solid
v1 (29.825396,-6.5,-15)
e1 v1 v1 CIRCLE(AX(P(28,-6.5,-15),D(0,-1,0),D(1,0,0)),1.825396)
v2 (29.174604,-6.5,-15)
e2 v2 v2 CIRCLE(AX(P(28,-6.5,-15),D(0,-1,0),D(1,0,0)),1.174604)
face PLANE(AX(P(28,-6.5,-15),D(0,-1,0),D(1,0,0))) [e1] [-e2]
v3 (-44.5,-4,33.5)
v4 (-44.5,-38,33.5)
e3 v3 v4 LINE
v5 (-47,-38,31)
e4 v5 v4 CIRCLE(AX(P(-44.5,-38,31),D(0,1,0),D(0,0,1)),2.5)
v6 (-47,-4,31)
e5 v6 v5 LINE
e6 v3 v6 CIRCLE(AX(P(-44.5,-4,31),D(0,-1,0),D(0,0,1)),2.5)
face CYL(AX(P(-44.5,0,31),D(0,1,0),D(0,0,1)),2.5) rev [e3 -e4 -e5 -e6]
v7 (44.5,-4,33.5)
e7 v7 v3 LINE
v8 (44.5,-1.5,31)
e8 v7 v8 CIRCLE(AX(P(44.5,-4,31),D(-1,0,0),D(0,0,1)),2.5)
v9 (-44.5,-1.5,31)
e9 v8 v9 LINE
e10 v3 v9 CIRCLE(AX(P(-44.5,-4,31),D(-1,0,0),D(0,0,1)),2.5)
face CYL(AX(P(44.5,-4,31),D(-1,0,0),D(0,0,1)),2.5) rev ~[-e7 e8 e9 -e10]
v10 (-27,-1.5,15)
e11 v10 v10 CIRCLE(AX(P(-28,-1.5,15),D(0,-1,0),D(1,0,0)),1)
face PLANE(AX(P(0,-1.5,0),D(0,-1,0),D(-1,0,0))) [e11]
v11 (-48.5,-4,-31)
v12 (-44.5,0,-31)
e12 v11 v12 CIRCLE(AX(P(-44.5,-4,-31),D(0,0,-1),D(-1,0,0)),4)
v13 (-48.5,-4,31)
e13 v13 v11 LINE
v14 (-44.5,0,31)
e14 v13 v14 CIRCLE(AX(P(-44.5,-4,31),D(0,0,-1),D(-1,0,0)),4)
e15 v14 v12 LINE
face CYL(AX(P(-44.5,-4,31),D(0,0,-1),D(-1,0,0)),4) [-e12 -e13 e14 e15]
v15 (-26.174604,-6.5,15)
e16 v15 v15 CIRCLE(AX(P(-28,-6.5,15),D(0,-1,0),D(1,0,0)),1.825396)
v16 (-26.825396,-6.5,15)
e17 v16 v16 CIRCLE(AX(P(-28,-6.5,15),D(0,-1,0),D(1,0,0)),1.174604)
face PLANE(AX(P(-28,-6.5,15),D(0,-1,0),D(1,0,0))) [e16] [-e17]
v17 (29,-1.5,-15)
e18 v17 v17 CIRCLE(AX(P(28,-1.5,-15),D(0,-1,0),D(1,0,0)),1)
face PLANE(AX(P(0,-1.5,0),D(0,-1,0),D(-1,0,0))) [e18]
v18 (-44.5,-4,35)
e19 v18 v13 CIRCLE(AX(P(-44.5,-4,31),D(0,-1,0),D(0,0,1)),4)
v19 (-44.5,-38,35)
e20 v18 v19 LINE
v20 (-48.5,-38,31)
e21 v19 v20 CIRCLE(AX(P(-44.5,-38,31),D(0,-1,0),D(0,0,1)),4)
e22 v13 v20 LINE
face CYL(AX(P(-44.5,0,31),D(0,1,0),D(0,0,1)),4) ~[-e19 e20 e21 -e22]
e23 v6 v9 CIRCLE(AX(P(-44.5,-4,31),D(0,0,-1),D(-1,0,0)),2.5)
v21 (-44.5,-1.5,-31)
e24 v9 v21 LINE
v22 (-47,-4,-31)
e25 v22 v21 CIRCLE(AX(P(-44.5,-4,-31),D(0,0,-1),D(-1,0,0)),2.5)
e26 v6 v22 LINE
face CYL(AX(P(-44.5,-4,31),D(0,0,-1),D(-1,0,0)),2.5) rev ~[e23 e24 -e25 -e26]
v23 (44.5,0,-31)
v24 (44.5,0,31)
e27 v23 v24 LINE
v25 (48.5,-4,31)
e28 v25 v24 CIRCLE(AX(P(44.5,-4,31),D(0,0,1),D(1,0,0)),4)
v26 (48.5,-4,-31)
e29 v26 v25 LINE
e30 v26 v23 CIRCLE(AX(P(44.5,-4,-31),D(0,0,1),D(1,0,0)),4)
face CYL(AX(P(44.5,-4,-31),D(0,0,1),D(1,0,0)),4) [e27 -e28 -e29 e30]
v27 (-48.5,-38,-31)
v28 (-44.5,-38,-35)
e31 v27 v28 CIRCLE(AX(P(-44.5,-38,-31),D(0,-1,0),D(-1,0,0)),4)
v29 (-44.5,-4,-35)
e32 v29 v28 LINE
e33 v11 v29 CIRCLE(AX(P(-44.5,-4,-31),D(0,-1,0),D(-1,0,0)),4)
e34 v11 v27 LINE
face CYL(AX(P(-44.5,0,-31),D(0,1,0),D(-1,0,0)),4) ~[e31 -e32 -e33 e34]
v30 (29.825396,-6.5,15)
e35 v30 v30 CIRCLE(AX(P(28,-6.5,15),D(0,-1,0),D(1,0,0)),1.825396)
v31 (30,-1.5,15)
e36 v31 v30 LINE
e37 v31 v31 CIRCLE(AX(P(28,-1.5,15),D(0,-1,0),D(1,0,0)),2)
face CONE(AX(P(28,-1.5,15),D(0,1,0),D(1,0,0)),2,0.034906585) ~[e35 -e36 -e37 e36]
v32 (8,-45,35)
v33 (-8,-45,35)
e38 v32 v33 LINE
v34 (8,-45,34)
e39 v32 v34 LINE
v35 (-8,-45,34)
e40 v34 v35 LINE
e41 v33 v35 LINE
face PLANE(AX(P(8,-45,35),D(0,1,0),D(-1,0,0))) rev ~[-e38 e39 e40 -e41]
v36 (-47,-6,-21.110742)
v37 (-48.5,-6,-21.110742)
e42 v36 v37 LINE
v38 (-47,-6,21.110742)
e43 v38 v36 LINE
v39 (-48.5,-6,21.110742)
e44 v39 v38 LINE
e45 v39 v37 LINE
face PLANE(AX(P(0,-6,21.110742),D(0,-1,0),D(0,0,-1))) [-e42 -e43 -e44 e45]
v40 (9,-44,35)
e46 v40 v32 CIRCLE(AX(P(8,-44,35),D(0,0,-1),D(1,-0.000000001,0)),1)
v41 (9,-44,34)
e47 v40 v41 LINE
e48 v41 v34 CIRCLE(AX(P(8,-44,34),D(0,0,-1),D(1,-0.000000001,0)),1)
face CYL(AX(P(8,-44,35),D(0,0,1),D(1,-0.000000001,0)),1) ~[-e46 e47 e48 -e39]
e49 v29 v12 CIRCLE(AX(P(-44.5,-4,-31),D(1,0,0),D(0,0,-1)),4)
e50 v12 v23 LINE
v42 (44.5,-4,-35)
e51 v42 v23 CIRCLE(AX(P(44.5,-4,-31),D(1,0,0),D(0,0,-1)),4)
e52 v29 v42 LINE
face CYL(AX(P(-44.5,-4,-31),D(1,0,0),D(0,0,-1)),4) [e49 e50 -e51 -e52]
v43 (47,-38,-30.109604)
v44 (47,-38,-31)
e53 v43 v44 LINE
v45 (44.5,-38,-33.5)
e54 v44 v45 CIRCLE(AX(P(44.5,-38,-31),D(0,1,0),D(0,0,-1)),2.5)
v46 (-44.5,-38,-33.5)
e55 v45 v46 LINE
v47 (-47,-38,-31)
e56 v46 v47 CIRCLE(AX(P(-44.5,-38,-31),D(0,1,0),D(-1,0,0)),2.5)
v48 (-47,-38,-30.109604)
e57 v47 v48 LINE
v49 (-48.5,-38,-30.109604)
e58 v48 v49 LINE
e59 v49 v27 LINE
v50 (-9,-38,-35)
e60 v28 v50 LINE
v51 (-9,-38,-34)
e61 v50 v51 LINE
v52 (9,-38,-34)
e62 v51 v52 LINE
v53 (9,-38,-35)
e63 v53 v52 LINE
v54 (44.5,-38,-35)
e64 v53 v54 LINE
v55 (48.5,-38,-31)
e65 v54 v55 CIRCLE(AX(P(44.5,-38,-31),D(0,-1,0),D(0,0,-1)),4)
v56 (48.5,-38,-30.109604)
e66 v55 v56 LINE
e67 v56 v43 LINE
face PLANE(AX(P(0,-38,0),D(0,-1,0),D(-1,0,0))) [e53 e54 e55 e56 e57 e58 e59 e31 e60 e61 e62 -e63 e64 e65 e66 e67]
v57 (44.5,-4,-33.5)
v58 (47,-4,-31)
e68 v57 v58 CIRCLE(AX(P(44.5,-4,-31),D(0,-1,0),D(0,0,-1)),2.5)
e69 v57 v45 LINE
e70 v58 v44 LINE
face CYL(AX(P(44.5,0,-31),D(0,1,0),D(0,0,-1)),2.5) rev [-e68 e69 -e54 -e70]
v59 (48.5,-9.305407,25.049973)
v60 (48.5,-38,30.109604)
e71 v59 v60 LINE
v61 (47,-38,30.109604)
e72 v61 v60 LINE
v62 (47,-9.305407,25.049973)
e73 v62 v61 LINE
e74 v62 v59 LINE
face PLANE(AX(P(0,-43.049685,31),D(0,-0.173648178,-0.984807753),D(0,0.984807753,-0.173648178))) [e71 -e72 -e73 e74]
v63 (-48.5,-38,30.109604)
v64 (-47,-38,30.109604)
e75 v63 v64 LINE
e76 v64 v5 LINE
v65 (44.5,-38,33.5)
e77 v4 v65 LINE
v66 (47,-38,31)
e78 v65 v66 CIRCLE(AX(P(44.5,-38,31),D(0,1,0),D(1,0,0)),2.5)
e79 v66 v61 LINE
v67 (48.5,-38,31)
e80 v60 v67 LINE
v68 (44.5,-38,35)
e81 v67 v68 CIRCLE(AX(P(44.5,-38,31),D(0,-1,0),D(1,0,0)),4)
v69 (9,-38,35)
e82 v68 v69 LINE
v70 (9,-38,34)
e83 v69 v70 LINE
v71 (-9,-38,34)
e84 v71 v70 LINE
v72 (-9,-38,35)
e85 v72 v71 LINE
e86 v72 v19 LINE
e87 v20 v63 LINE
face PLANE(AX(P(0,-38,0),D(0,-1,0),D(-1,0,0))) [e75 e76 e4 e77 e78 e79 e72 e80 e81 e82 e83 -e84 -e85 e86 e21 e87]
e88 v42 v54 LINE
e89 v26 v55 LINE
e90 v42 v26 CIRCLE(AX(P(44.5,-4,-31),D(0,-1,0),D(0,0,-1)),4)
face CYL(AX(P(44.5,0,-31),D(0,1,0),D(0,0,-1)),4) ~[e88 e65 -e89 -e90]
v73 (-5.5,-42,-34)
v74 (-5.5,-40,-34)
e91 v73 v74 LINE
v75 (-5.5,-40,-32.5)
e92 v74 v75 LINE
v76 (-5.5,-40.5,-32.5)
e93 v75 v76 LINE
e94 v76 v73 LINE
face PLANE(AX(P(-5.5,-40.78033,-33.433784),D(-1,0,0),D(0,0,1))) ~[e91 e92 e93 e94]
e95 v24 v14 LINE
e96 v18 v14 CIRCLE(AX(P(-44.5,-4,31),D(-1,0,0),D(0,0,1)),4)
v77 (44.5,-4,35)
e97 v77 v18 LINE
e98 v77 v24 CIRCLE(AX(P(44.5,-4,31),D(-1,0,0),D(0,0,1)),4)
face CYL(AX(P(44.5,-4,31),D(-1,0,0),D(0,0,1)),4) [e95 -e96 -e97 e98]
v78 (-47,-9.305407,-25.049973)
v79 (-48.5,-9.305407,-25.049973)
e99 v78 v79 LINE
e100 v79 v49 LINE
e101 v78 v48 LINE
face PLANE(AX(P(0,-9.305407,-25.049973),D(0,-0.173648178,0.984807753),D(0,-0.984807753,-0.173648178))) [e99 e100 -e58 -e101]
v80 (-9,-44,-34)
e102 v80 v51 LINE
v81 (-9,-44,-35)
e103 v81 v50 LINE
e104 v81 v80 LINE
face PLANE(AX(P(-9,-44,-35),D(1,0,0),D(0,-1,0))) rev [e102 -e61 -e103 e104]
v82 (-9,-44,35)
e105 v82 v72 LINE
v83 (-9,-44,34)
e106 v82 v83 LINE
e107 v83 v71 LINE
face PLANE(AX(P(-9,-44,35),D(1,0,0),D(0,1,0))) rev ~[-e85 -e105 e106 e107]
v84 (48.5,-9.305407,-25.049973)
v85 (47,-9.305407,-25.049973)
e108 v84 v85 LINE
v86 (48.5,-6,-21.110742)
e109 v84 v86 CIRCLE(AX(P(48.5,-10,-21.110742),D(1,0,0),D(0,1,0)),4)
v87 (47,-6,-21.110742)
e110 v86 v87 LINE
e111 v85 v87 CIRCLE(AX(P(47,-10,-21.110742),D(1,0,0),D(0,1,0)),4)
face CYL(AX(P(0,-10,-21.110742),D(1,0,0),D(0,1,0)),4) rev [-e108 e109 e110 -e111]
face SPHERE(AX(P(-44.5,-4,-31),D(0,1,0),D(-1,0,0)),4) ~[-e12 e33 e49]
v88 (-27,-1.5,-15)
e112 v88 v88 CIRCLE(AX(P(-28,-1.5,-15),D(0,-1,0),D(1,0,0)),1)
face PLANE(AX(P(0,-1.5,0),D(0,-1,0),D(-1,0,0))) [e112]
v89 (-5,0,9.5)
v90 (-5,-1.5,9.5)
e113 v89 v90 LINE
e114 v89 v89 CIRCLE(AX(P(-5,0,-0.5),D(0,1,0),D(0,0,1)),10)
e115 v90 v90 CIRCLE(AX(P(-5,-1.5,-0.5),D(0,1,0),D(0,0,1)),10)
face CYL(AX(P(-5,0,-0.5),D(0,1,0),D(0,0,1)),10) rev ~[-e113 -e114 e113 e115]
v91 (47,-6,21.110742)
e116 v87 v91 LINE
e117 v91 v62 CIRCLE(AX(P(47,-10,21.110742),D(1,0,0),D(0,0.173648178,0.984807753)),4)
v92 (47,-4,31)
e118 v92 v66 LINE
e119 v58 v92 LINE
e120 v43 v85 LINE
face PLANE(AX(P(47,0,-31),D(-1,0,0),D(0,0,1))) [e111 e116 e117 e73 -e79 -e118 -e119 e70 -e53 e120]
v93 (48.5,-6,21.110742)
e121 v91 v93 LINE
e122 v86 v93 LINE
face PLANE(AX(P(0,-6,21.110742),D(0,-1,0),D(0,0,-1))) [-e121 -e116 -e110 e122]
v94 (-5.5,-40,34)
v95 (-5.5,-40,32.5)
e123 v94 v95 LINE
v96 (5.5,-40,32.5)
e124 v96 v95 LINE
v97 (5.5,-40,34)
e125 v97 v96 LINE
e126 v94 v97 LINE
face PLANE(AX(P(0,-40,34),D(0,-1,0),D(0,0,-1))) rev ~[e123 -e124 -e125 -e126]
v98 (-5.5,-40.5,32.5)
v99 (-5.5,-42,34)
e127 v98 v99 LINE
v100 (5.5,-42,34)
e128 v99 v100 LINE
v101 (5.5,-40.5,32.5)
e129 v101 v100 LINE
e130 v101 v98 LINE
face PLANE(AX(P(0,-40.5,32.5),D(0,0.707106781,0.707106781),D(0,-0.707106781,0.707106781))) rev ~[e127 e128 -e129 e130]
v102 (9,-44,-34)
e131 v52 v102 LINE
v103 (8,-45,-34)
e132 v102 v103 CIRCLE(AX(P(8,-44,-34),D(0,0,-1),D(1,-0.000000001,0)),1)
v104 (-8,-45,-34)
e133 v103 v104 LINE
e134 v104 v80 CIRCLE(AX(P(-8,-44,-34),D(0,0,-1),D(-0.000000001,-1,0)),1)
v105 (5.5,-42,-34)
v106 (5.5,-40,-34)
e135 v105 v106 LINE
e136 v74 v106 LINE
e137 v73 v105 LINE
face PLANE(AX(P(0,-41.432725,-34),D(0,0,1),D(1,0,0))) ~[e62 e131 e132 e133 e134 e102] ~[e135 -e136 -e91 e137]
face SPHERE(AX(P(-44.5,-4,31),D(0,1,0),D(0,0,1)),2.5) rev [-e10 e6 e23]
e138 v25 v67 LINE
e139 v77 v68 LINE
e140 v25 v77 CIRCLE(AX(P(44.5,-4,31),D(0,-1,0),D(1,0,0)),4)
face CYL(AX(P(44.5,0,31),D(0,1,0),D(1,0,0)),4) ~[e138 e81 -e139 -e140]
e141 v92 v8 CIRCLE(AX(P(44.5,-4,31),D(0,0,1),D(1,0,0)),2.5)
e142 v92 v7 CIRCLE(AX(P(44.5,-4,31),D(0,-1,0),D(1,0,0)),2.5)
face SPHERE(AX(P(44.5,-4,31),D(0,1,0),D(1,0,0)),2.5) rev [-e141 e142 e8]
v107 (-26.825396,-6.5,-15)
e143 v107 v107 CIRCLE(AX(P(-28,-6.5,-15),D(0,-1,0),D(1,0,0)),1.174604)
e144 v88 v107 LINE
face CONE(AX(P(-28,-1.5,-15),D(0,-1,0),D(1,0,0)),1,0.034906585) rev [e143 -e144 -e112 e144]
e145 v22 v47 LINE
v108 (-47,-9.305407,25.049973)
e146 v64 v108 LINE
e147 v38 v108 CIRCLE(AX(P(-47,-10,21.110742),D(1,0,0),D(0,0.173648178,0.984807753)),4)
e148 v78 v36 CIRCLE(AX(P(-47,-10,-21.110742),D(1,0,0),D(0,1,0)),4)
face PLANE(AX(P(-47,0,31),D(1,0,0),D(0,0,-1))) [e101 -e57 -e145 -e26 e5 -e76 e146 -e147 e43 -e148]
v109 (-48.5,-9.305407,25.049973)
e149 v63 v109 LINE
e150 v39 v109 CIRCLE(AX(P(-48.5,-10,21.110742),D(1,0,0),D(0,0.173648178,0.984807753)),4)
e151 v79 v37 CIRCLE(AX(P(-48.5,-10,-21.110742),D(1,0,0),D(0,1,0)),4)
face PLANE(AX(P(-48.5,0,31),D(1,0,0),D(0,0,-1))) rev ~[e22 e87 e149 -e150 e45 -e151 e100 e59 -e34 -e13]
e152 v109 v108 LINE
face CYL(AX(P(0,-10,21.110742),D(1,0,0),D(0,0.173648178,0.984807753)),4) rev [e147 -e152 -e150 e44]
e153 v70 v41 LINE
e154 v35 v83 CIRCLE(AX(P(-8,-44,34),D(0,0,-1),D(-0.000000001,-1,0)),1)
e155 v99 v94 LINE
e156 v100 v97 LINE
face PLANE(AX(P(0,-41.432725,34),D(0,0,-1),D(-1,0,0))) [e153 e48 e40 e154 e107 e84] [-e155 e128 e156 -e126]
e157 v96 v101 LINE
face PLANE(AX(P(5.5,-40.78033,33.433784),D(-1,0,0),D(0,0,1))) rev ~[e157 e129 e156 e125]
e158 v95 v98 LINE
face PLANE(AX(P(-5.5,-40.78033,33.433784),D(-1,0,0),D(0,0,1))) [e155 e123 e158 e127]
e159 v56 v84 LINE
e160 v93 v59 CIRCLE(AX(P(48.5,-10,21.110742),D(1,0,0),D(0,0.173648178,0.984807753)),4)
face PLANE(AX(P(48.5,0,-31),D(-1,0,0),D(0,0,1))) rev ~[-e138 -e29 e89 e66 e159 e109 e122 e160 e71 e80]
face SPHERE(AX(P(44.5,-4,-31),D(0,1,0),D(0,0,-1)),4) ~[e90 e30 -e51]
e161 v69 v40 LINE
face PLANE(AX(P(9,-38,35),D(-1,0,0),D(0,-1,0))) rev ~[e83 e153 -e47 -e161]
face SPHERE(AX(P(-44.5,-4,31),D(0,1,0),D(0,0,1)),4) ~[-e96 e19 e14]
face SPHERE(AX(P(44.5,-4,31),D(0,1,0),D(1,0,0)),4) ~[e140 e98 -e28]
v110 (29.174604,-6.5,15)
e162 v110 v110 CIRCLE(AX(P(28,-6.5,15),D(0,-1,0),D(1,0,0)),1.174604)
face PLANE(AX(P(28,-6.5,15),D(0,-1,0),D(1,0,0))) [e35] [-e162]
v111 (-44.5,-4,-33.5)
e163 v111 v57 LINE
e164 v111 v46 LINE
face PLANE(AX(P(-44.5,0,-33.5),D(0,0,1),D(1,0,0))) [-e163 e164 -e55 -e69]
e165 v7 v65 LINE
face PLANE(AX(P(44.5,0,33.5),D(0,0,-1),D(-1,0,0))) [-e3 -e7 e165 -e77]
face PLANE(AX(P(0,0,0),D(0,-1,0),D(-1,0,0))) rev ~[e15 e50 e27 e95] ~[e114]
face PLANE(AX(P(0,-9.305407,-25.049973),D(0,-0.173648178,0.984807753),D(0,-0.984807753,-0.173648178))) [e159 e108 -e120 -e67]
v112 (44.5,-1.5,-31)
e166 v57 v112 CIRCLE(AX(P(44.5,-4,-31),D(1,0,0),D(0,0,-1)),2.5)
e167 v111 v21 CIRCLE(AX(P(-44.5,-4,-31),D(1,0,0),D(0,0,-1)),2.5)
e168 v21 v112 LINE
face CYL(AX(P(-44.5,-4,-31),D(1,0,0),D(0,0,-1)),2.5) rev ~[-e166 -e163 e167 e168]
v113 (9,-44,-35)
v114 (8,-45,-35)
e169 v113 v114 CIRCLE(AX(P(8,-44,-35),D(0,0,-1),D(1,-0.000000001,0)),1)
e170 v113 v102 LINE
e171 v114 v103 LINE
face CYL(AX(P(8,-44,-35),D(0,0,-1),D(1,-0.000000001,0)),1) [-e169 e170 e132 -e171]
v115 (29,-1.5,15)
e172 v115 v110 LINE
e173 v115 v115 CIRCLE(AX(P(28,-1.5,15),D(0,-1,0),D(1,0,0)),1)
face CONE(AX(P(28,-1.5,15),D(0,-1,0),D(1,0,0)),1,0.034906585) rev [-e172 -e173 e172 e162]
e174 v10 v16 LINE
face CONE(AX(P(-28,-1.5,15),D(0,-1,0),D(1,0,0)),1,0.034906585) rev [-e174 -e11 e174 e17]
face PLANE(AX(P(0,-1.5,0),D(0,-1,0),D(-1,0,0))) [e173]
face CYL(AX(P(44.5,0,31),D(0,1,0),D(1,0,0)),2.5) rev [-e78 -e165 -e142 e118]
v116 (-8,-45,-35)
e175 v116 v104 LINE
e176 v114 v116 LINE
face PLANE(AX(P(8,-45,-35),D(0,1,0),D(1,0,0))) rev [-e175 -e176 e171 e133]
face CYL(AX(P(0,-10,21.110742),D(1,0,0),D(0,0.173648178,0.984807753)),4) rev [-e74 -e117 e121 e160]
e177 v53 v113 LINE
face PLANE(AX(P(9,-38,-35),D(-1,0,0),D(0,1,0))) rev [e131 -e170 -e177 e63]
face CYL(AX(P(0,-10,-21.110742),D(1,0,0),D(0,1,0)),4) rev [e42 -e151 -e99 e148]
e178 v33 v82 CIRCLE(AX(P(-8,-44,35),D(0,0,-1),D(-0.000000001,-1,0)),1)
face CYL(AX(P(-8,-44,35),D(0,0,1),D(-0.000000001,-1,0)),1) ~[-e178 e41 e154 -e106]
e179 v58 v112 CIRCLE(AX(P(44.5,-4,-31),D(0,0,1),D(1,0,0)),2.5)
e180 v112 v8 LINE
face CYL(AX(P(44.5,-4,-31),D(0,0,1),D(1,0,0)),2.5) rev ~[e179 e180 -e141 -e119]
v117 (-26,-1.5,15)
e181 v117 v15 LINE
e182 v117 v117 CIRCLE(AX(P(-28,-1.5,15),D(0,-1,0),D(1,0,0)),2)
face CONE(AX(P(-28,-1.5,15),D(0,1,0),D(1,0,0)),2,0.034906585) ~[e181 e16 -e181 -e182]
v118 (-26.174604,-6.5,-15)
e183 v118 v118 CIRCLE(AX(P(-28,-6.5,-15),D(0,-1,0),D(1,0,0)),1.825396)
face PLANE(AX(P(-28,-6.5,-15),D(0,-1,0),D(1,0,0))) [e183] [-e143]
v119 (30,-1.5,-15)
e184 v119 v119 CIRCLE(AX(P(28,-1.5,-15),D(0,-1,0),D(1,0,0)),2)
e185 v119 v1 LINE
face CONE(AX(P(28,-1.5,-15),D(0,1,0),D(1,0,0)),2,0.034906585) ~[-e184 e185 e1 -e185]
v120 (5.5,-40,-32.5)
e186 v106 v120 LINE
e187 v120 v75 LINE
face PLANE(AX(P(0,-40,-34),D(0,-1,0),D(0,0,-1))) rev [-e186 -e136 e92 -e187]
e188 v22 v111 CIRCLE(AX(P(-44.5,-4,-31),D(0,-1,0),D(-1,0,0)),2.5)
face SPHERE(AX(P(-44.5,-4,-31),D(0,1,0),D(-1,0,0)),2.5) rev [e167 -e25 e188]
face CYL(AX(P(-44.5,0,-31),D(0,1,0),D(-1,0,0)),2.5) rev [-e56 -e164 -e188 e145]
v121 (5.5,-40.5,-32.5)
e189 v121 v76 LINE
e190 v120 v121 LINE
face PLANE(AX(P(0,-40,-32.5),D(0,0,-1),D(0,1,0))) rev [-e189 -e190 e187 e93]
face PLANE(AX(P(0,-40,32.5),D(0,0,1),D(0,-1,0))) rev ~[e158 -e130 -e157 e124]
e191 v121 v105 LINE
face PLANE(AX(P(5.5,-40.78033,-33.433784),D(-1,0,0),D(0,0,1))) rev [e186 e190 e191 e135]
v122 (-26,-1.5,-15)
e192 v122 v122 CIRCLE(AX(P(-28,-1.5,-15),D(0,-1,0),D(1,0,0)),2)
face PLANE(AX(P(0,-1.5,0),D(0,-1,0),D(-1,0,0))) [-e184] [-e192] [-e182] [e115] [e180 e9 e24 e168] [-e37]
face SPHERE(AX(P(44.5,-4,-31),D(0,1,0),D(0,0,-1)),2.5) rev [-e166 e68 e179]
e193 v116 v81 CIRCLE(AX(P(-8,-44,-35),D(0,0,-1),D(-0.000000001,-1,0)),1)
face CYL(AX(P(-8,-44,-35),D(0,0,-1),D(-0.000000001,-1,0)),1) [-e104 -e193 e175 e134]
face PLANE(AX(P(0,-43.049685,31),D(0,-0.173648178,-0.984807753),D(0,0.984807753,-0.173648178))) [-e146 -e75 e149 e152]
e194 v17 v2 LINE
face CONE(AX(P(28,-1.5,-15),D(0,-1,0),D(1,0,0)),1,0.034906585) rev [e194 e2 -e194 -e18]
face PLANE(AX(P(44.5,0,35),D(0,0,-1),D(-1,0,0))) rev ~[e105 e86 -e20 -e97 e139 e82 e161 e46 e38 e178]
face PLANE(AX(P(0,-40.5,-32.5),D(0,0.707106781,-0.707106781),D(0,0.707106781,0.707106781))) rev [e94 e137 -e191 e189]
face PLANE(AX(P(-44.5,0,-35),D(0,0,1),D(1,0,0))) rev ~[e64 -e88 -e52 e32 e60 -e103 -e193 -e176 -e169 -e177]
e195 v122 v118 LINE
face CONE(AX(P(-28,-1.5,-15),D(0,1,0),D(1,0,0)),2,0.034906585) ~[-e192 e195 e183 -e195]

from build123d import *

# Parameters (mm, degrees)
RESSALTO_EXTRUS_O1_DEPTH           = 38
FILETE1_R                          = 4
CASCA1_T                           = -1.5
CORTE_EXTRUS_O1_DEPTH              = 50
ESBO_O3_R                          = 2
ESBO_O3_R_2                        = 1
RESSALTO_EXTRUS_O2_DEPTH           = 5
RESSALTO_EXTRUS_O2_DRAFT           = 2
RESSALTO_EXTRUS_O2_PROFILE_2_DEPTH = 5
RESSALTO_EXTRUS_O2_PROFILE_2_DRAFT = 2
RESSALTO_EXTRUS_O2_PROFILE_3_DEPTH = 5
RESSALTO_EXTRUS_O2_PROFILE_3_DRAFT = 2
RESSALTO_EXTRUS_O2_PROFILE_4_DEPTH = 5
RESSALTO_EXTRUS_O2_PROFILE_4_DRAFT = 2
RESSALTO_EXTRUS_O3_DEPTH           = 1
RESSALTO_EXTRUS_O4_DEPTH           = 5.5
ESBO_O6_R                          = 10
CORTE_EXTRUS_O2_DEPTH              = 75.848179671


with BuildPart() as part:
    # Esboço1 → Ressalto-extrusão1 (new body)
    with BuildSketch(Plane(origin=(0, 0, 0), x_dir=(1, 0, 0), z_dir=(0, 1, 0))):
        with BuildLine():
            Line((-44.5, 35), (44.5, 35))
            ThreePointArc((44.5, 35), (47.328427125, 33.828427125), (48.5, 31))
            Line((48.5, 31), (48.5, -31))
            ThreePointArc((48.5, -31), (47.328427125, -33.828427125), (44.5, -35))
            Line((44.5, -35), (-44.5, -35))
            ThreePointArc((-44.5, -35), (-47.328427125, -33.828427125), (-48.5, -31))
            Line((-48.5, -31), (-48.5, 31))
            ThreePointArc((-48.5, 31), (-47.328427125, 33.828427125), (-44.5, 35))
        make_face()
    extrude(amount=-RESSALTO_EXTRUS_O1_DEPTH)

    # Filete1
    filete1_edges = [part.edges().sort_by_distance(p)[0] for p in [
        (48.5, 0, 0),
        (47.328427125, 0, 33.828427125),
        (0, 0, 35),
        (-47.328427125, 0, 33.828427125),
        (-48.5, 0, 0),
        (-47.328427125, 0, -33.828427125),
        (0, 0, -35),
        (47.328427125, 0, -33.828427125),
    ]]
    fillet(filete1_edges, radius=FILETE1_R)

    # Casca1
    casca1_openings = [part.faces().sort_by_distance(p)[0] for p in [
        (0, -38, 0),
    ]]
    offset(amount=CASCA1_T, openings=casca1_openings, kind=Kind.INTERSECTION)

    # Esboço2 → Corte-extrusão1 (cut, symmetric)
    with BuildSketch(Plane(origin=(0, 0, 0), x_dir=(0, 0, -1), z_dir=(1, 0, 0))):
        with BuildLine():
            Line((-21.110742301, -6), (21.110742301, -6))
            ThreePointArc((21.110742301, -6), (23.68189274, -6.935822228), (25.049973313, -9.305407289))
            Line((25.049973313, -9.305407289), (31, -43.049685465))
            Line((31, -43.049685465), (-31, -43.049685465))
            Line((-31, -43.049685465), (-25.049973313, -9.305407289))
            ThreePointArc((-25.049973313, -9.305407289), (-23.68189274, -6.935822228), (-21.110742301, -6))
        make_face()
    extrude(amount=CORTE_EXTRUS_O1_DEPTH, both=True, mode=Mode.SUBTRACT)


with BuildPart() as ressalto_extrus_o2_tool:
    # Esboço3 → Ressalto-extrusão2 (with draft: the straight prism first)
    with BuildSketch(Plane.XZ.offset(1.5)):
        with Locations((-28, 15)):
            Circle(ESBO_O3_R)
        with Locations((-28, 15)):
            Circle(ESBO_O3_R_2, mode=Mode.SUBTRACT)
    extrude(amount=RESSALTO_EXTRUS_O2_DEPTH)
    # Ressalto-extrusão2: the draft: its side faces are tilted about the plane it starts from
    ressalto_extrus_o2_sides = [ressalto_extrus_o2_tool.faces().sort_by_distance(p)[0] for p in [
        (-30, -4, 15),
        (-29, -4, 15),
    ]]
    draft(ressalto_extrus_o2_sides, Plane.XZ.offset(1.5), RESSALTO_EXTRUS_O2_DRAFT)


with BuildPart() as part_1:
    add(part.part)

    # Ressalto-extrusão2: add ressalto_extrus_o2_tool
    add(ressalto_extrus_o2_tool.part)


with BuildPart() as ressalto_extrus_o2_profile_2_tool:
    # Esboço3 → Ressalto-extrusão2 profile 2 (with draft: the straight prism first)
    with BuildSketch(Plane.XZ.offset(1.5)):
        with Locations((28, 15)):
            Circle(ESBO_O3_R)
        with Locations((28, 15)):
            Circle(ESBO_O3_R_2, mode=Mode.SUBTRACT)
    extrude(amount=RESSALTO_EXTRUS_O2_PROFILE_2_DEPTH)
    # Ressalto-extrusão2 profile 2: the draft: its side faces are tilted about the plane it starts from
    ressalto_extrus_o2_profile_2_sides = [ressalto_extrus_o2_profile_2_tool.faces().sort_by_distance(p)[0] for p in [
        (26, -4, 15),
        (27, -4, 15),
    ]]
    draft(ressalto_extrus_o2_profile_2_sides, Plane.XZ.offset(1.5), RESSALTO_EXTRUS_O2_PROFILE_2_DRAFT)


with BuildPart() as part_2:
    add(part_1.part)

    # Ressalto-extrusão2 profile 2: add ressalto_extrus_o2_profile_2_tool
    add(ressalto_extrus_o2_profile_2_tool.part)


with BuildPart() as ressalto_extrus_o2_profile_3_tool:
    # Esboço3 → Ressalto-extrusão2 profile 3 (with draft: the straight prism first)
    with BuildSketch(Plane.XZ.offset(1.5)):
        with Locations((28, -15)):
            Circle(ESBO_O3_R)
        with Locations((28, -15)):
            Circle(ESBO_O3_R_2, mode=Mode.SUBTRACT)
    extrude(amount=RESSALTO_EXTRUS_O2_PROFILE_3_DEPTH)
    # Ressalto-extrusão2 profile 3: the draft: its side faces are tilted about the plane it starts from
    ressalto_extrus_o2_profile_3_sides = [ressalto_extrus_o2_profile_3_tool.faces().sort_by_distance(p)[0] for p in [
        (26, -4, -15),
        (27, -4, -15),
    ]]
    draft(ressalto_extrus_o2_profile_3_sides, Plane.XZ.offset(1.5), RESSALTO_EXTRUS_O2_PROFILE_3_DRAFT)


with BuildPart() as part_3:
    add(part_2.part)

    # Ressalto-extrusão2 profile 3: add ressalto_extrus_o2_profile_3_tool
    add(ressalto_extrus_o2_profile_3_tool.part)


with BuildPart() as ressalto_extrus_o2_profile_4_tool:
    # Esboço3 → Ressalto-extrusão2 profile 4 (with draft: the straight prism first)
    with BuildSketch(Plane.XZ.offset(1.5)):
        with Locations((-28, -15)):
            Circle(ESBO_O3_R)
        with Locations((-28, -15)):
            Circle(ESBO_O3_R_2, mode=Mode.SUBTRACT)
    extrude(amount=RESSALTO_EXTRUS_O2_PROFILE_4_DEPTH)
    # Ressalto-extrusão2 profile 4: the draft: its side faces are tilted about the plane it starts from
    ressalto_extrus_o2_profile_4_sides = [ressalto_extrus_o2_profile_4_tool.faces().sort_by_distance(p)[0] for p in [
        (-30, -4, -15),
        (-29, -4, -15),
    ]]
    draft(ressalto_extrus_o2_profile_4_sides, Plane.XZ.offset(1.5), RESSALTO_EXTRUS_O2_PROFILE_4_DRAFT)


with BuildPart() as part_4:
    add(part_3.part)

    # Ressalto-extrusão2 profile 4: add ressalto_extrus_o2_profile_4_tool
    add(ressalto_extrus_o2_profile_4_tool.part)

    # Esboço4 → Ressalto-extrusão3 (add)
    with BuildSketch(Plane.XY.offset(35)):
        with BuildLine():
            Line((-9, -38), (9, -38))
            Line((9, -38), (9, -44))
            ThreePointArc((9, -44), (8.707106781, -44.707106781), (8, -45))
            Line((8, -45), (-8, -45))
            ThreePointArc((-8, -45), (-8.707106781, -44.707106781), (-9, -44))
            Line((-9, -44), (-9, -38))
        make_face()
    ressalto_extrus_o3 = extrude(amount=-RESSALTO_EXTRUS_O3_DEPTH)

    # Esboço5 → Ressalto-extrusão4 (add, symmetric)
    with BuildSketch(Plane(origin=(0, 0, 0), x_dir=(0, 0, -1), z_dir=(1, 0, 0))):
        Polygon((-34, -40), (-32.5, -40), (-32.5, -40.5), (-34, -42), align=None)
    ressalto_extrus_o4 = extrude(amount=RESSALTO_EXTRUS_O4_DEPTH, both=True)

    # Espelhar1: Ressalto-extrusão3, Ressalto-extrusão4 across plane
    add(ressalto_extrus_o3.mirror(Plane.XY))
    add(ressalto_extrus_o4.mirror(Plane.XY))

    # Esboço6 → Corte-extrusão2 (cut, through all)
    with BuildSketch(Plane(origin=(0, 0, 0), x_dir=(1, 0, 0), z_dir=(0, 1, 0))):
        with Locations(Location((-5, 0.5, 0), (0, 0, 270))):
            Circle(ESBO_O6_R)
    extrude(amount=-CORTE_EXTRUS_O2_DEPTH, mode=Mode.SUBTRACT)


solid = part_4.part
